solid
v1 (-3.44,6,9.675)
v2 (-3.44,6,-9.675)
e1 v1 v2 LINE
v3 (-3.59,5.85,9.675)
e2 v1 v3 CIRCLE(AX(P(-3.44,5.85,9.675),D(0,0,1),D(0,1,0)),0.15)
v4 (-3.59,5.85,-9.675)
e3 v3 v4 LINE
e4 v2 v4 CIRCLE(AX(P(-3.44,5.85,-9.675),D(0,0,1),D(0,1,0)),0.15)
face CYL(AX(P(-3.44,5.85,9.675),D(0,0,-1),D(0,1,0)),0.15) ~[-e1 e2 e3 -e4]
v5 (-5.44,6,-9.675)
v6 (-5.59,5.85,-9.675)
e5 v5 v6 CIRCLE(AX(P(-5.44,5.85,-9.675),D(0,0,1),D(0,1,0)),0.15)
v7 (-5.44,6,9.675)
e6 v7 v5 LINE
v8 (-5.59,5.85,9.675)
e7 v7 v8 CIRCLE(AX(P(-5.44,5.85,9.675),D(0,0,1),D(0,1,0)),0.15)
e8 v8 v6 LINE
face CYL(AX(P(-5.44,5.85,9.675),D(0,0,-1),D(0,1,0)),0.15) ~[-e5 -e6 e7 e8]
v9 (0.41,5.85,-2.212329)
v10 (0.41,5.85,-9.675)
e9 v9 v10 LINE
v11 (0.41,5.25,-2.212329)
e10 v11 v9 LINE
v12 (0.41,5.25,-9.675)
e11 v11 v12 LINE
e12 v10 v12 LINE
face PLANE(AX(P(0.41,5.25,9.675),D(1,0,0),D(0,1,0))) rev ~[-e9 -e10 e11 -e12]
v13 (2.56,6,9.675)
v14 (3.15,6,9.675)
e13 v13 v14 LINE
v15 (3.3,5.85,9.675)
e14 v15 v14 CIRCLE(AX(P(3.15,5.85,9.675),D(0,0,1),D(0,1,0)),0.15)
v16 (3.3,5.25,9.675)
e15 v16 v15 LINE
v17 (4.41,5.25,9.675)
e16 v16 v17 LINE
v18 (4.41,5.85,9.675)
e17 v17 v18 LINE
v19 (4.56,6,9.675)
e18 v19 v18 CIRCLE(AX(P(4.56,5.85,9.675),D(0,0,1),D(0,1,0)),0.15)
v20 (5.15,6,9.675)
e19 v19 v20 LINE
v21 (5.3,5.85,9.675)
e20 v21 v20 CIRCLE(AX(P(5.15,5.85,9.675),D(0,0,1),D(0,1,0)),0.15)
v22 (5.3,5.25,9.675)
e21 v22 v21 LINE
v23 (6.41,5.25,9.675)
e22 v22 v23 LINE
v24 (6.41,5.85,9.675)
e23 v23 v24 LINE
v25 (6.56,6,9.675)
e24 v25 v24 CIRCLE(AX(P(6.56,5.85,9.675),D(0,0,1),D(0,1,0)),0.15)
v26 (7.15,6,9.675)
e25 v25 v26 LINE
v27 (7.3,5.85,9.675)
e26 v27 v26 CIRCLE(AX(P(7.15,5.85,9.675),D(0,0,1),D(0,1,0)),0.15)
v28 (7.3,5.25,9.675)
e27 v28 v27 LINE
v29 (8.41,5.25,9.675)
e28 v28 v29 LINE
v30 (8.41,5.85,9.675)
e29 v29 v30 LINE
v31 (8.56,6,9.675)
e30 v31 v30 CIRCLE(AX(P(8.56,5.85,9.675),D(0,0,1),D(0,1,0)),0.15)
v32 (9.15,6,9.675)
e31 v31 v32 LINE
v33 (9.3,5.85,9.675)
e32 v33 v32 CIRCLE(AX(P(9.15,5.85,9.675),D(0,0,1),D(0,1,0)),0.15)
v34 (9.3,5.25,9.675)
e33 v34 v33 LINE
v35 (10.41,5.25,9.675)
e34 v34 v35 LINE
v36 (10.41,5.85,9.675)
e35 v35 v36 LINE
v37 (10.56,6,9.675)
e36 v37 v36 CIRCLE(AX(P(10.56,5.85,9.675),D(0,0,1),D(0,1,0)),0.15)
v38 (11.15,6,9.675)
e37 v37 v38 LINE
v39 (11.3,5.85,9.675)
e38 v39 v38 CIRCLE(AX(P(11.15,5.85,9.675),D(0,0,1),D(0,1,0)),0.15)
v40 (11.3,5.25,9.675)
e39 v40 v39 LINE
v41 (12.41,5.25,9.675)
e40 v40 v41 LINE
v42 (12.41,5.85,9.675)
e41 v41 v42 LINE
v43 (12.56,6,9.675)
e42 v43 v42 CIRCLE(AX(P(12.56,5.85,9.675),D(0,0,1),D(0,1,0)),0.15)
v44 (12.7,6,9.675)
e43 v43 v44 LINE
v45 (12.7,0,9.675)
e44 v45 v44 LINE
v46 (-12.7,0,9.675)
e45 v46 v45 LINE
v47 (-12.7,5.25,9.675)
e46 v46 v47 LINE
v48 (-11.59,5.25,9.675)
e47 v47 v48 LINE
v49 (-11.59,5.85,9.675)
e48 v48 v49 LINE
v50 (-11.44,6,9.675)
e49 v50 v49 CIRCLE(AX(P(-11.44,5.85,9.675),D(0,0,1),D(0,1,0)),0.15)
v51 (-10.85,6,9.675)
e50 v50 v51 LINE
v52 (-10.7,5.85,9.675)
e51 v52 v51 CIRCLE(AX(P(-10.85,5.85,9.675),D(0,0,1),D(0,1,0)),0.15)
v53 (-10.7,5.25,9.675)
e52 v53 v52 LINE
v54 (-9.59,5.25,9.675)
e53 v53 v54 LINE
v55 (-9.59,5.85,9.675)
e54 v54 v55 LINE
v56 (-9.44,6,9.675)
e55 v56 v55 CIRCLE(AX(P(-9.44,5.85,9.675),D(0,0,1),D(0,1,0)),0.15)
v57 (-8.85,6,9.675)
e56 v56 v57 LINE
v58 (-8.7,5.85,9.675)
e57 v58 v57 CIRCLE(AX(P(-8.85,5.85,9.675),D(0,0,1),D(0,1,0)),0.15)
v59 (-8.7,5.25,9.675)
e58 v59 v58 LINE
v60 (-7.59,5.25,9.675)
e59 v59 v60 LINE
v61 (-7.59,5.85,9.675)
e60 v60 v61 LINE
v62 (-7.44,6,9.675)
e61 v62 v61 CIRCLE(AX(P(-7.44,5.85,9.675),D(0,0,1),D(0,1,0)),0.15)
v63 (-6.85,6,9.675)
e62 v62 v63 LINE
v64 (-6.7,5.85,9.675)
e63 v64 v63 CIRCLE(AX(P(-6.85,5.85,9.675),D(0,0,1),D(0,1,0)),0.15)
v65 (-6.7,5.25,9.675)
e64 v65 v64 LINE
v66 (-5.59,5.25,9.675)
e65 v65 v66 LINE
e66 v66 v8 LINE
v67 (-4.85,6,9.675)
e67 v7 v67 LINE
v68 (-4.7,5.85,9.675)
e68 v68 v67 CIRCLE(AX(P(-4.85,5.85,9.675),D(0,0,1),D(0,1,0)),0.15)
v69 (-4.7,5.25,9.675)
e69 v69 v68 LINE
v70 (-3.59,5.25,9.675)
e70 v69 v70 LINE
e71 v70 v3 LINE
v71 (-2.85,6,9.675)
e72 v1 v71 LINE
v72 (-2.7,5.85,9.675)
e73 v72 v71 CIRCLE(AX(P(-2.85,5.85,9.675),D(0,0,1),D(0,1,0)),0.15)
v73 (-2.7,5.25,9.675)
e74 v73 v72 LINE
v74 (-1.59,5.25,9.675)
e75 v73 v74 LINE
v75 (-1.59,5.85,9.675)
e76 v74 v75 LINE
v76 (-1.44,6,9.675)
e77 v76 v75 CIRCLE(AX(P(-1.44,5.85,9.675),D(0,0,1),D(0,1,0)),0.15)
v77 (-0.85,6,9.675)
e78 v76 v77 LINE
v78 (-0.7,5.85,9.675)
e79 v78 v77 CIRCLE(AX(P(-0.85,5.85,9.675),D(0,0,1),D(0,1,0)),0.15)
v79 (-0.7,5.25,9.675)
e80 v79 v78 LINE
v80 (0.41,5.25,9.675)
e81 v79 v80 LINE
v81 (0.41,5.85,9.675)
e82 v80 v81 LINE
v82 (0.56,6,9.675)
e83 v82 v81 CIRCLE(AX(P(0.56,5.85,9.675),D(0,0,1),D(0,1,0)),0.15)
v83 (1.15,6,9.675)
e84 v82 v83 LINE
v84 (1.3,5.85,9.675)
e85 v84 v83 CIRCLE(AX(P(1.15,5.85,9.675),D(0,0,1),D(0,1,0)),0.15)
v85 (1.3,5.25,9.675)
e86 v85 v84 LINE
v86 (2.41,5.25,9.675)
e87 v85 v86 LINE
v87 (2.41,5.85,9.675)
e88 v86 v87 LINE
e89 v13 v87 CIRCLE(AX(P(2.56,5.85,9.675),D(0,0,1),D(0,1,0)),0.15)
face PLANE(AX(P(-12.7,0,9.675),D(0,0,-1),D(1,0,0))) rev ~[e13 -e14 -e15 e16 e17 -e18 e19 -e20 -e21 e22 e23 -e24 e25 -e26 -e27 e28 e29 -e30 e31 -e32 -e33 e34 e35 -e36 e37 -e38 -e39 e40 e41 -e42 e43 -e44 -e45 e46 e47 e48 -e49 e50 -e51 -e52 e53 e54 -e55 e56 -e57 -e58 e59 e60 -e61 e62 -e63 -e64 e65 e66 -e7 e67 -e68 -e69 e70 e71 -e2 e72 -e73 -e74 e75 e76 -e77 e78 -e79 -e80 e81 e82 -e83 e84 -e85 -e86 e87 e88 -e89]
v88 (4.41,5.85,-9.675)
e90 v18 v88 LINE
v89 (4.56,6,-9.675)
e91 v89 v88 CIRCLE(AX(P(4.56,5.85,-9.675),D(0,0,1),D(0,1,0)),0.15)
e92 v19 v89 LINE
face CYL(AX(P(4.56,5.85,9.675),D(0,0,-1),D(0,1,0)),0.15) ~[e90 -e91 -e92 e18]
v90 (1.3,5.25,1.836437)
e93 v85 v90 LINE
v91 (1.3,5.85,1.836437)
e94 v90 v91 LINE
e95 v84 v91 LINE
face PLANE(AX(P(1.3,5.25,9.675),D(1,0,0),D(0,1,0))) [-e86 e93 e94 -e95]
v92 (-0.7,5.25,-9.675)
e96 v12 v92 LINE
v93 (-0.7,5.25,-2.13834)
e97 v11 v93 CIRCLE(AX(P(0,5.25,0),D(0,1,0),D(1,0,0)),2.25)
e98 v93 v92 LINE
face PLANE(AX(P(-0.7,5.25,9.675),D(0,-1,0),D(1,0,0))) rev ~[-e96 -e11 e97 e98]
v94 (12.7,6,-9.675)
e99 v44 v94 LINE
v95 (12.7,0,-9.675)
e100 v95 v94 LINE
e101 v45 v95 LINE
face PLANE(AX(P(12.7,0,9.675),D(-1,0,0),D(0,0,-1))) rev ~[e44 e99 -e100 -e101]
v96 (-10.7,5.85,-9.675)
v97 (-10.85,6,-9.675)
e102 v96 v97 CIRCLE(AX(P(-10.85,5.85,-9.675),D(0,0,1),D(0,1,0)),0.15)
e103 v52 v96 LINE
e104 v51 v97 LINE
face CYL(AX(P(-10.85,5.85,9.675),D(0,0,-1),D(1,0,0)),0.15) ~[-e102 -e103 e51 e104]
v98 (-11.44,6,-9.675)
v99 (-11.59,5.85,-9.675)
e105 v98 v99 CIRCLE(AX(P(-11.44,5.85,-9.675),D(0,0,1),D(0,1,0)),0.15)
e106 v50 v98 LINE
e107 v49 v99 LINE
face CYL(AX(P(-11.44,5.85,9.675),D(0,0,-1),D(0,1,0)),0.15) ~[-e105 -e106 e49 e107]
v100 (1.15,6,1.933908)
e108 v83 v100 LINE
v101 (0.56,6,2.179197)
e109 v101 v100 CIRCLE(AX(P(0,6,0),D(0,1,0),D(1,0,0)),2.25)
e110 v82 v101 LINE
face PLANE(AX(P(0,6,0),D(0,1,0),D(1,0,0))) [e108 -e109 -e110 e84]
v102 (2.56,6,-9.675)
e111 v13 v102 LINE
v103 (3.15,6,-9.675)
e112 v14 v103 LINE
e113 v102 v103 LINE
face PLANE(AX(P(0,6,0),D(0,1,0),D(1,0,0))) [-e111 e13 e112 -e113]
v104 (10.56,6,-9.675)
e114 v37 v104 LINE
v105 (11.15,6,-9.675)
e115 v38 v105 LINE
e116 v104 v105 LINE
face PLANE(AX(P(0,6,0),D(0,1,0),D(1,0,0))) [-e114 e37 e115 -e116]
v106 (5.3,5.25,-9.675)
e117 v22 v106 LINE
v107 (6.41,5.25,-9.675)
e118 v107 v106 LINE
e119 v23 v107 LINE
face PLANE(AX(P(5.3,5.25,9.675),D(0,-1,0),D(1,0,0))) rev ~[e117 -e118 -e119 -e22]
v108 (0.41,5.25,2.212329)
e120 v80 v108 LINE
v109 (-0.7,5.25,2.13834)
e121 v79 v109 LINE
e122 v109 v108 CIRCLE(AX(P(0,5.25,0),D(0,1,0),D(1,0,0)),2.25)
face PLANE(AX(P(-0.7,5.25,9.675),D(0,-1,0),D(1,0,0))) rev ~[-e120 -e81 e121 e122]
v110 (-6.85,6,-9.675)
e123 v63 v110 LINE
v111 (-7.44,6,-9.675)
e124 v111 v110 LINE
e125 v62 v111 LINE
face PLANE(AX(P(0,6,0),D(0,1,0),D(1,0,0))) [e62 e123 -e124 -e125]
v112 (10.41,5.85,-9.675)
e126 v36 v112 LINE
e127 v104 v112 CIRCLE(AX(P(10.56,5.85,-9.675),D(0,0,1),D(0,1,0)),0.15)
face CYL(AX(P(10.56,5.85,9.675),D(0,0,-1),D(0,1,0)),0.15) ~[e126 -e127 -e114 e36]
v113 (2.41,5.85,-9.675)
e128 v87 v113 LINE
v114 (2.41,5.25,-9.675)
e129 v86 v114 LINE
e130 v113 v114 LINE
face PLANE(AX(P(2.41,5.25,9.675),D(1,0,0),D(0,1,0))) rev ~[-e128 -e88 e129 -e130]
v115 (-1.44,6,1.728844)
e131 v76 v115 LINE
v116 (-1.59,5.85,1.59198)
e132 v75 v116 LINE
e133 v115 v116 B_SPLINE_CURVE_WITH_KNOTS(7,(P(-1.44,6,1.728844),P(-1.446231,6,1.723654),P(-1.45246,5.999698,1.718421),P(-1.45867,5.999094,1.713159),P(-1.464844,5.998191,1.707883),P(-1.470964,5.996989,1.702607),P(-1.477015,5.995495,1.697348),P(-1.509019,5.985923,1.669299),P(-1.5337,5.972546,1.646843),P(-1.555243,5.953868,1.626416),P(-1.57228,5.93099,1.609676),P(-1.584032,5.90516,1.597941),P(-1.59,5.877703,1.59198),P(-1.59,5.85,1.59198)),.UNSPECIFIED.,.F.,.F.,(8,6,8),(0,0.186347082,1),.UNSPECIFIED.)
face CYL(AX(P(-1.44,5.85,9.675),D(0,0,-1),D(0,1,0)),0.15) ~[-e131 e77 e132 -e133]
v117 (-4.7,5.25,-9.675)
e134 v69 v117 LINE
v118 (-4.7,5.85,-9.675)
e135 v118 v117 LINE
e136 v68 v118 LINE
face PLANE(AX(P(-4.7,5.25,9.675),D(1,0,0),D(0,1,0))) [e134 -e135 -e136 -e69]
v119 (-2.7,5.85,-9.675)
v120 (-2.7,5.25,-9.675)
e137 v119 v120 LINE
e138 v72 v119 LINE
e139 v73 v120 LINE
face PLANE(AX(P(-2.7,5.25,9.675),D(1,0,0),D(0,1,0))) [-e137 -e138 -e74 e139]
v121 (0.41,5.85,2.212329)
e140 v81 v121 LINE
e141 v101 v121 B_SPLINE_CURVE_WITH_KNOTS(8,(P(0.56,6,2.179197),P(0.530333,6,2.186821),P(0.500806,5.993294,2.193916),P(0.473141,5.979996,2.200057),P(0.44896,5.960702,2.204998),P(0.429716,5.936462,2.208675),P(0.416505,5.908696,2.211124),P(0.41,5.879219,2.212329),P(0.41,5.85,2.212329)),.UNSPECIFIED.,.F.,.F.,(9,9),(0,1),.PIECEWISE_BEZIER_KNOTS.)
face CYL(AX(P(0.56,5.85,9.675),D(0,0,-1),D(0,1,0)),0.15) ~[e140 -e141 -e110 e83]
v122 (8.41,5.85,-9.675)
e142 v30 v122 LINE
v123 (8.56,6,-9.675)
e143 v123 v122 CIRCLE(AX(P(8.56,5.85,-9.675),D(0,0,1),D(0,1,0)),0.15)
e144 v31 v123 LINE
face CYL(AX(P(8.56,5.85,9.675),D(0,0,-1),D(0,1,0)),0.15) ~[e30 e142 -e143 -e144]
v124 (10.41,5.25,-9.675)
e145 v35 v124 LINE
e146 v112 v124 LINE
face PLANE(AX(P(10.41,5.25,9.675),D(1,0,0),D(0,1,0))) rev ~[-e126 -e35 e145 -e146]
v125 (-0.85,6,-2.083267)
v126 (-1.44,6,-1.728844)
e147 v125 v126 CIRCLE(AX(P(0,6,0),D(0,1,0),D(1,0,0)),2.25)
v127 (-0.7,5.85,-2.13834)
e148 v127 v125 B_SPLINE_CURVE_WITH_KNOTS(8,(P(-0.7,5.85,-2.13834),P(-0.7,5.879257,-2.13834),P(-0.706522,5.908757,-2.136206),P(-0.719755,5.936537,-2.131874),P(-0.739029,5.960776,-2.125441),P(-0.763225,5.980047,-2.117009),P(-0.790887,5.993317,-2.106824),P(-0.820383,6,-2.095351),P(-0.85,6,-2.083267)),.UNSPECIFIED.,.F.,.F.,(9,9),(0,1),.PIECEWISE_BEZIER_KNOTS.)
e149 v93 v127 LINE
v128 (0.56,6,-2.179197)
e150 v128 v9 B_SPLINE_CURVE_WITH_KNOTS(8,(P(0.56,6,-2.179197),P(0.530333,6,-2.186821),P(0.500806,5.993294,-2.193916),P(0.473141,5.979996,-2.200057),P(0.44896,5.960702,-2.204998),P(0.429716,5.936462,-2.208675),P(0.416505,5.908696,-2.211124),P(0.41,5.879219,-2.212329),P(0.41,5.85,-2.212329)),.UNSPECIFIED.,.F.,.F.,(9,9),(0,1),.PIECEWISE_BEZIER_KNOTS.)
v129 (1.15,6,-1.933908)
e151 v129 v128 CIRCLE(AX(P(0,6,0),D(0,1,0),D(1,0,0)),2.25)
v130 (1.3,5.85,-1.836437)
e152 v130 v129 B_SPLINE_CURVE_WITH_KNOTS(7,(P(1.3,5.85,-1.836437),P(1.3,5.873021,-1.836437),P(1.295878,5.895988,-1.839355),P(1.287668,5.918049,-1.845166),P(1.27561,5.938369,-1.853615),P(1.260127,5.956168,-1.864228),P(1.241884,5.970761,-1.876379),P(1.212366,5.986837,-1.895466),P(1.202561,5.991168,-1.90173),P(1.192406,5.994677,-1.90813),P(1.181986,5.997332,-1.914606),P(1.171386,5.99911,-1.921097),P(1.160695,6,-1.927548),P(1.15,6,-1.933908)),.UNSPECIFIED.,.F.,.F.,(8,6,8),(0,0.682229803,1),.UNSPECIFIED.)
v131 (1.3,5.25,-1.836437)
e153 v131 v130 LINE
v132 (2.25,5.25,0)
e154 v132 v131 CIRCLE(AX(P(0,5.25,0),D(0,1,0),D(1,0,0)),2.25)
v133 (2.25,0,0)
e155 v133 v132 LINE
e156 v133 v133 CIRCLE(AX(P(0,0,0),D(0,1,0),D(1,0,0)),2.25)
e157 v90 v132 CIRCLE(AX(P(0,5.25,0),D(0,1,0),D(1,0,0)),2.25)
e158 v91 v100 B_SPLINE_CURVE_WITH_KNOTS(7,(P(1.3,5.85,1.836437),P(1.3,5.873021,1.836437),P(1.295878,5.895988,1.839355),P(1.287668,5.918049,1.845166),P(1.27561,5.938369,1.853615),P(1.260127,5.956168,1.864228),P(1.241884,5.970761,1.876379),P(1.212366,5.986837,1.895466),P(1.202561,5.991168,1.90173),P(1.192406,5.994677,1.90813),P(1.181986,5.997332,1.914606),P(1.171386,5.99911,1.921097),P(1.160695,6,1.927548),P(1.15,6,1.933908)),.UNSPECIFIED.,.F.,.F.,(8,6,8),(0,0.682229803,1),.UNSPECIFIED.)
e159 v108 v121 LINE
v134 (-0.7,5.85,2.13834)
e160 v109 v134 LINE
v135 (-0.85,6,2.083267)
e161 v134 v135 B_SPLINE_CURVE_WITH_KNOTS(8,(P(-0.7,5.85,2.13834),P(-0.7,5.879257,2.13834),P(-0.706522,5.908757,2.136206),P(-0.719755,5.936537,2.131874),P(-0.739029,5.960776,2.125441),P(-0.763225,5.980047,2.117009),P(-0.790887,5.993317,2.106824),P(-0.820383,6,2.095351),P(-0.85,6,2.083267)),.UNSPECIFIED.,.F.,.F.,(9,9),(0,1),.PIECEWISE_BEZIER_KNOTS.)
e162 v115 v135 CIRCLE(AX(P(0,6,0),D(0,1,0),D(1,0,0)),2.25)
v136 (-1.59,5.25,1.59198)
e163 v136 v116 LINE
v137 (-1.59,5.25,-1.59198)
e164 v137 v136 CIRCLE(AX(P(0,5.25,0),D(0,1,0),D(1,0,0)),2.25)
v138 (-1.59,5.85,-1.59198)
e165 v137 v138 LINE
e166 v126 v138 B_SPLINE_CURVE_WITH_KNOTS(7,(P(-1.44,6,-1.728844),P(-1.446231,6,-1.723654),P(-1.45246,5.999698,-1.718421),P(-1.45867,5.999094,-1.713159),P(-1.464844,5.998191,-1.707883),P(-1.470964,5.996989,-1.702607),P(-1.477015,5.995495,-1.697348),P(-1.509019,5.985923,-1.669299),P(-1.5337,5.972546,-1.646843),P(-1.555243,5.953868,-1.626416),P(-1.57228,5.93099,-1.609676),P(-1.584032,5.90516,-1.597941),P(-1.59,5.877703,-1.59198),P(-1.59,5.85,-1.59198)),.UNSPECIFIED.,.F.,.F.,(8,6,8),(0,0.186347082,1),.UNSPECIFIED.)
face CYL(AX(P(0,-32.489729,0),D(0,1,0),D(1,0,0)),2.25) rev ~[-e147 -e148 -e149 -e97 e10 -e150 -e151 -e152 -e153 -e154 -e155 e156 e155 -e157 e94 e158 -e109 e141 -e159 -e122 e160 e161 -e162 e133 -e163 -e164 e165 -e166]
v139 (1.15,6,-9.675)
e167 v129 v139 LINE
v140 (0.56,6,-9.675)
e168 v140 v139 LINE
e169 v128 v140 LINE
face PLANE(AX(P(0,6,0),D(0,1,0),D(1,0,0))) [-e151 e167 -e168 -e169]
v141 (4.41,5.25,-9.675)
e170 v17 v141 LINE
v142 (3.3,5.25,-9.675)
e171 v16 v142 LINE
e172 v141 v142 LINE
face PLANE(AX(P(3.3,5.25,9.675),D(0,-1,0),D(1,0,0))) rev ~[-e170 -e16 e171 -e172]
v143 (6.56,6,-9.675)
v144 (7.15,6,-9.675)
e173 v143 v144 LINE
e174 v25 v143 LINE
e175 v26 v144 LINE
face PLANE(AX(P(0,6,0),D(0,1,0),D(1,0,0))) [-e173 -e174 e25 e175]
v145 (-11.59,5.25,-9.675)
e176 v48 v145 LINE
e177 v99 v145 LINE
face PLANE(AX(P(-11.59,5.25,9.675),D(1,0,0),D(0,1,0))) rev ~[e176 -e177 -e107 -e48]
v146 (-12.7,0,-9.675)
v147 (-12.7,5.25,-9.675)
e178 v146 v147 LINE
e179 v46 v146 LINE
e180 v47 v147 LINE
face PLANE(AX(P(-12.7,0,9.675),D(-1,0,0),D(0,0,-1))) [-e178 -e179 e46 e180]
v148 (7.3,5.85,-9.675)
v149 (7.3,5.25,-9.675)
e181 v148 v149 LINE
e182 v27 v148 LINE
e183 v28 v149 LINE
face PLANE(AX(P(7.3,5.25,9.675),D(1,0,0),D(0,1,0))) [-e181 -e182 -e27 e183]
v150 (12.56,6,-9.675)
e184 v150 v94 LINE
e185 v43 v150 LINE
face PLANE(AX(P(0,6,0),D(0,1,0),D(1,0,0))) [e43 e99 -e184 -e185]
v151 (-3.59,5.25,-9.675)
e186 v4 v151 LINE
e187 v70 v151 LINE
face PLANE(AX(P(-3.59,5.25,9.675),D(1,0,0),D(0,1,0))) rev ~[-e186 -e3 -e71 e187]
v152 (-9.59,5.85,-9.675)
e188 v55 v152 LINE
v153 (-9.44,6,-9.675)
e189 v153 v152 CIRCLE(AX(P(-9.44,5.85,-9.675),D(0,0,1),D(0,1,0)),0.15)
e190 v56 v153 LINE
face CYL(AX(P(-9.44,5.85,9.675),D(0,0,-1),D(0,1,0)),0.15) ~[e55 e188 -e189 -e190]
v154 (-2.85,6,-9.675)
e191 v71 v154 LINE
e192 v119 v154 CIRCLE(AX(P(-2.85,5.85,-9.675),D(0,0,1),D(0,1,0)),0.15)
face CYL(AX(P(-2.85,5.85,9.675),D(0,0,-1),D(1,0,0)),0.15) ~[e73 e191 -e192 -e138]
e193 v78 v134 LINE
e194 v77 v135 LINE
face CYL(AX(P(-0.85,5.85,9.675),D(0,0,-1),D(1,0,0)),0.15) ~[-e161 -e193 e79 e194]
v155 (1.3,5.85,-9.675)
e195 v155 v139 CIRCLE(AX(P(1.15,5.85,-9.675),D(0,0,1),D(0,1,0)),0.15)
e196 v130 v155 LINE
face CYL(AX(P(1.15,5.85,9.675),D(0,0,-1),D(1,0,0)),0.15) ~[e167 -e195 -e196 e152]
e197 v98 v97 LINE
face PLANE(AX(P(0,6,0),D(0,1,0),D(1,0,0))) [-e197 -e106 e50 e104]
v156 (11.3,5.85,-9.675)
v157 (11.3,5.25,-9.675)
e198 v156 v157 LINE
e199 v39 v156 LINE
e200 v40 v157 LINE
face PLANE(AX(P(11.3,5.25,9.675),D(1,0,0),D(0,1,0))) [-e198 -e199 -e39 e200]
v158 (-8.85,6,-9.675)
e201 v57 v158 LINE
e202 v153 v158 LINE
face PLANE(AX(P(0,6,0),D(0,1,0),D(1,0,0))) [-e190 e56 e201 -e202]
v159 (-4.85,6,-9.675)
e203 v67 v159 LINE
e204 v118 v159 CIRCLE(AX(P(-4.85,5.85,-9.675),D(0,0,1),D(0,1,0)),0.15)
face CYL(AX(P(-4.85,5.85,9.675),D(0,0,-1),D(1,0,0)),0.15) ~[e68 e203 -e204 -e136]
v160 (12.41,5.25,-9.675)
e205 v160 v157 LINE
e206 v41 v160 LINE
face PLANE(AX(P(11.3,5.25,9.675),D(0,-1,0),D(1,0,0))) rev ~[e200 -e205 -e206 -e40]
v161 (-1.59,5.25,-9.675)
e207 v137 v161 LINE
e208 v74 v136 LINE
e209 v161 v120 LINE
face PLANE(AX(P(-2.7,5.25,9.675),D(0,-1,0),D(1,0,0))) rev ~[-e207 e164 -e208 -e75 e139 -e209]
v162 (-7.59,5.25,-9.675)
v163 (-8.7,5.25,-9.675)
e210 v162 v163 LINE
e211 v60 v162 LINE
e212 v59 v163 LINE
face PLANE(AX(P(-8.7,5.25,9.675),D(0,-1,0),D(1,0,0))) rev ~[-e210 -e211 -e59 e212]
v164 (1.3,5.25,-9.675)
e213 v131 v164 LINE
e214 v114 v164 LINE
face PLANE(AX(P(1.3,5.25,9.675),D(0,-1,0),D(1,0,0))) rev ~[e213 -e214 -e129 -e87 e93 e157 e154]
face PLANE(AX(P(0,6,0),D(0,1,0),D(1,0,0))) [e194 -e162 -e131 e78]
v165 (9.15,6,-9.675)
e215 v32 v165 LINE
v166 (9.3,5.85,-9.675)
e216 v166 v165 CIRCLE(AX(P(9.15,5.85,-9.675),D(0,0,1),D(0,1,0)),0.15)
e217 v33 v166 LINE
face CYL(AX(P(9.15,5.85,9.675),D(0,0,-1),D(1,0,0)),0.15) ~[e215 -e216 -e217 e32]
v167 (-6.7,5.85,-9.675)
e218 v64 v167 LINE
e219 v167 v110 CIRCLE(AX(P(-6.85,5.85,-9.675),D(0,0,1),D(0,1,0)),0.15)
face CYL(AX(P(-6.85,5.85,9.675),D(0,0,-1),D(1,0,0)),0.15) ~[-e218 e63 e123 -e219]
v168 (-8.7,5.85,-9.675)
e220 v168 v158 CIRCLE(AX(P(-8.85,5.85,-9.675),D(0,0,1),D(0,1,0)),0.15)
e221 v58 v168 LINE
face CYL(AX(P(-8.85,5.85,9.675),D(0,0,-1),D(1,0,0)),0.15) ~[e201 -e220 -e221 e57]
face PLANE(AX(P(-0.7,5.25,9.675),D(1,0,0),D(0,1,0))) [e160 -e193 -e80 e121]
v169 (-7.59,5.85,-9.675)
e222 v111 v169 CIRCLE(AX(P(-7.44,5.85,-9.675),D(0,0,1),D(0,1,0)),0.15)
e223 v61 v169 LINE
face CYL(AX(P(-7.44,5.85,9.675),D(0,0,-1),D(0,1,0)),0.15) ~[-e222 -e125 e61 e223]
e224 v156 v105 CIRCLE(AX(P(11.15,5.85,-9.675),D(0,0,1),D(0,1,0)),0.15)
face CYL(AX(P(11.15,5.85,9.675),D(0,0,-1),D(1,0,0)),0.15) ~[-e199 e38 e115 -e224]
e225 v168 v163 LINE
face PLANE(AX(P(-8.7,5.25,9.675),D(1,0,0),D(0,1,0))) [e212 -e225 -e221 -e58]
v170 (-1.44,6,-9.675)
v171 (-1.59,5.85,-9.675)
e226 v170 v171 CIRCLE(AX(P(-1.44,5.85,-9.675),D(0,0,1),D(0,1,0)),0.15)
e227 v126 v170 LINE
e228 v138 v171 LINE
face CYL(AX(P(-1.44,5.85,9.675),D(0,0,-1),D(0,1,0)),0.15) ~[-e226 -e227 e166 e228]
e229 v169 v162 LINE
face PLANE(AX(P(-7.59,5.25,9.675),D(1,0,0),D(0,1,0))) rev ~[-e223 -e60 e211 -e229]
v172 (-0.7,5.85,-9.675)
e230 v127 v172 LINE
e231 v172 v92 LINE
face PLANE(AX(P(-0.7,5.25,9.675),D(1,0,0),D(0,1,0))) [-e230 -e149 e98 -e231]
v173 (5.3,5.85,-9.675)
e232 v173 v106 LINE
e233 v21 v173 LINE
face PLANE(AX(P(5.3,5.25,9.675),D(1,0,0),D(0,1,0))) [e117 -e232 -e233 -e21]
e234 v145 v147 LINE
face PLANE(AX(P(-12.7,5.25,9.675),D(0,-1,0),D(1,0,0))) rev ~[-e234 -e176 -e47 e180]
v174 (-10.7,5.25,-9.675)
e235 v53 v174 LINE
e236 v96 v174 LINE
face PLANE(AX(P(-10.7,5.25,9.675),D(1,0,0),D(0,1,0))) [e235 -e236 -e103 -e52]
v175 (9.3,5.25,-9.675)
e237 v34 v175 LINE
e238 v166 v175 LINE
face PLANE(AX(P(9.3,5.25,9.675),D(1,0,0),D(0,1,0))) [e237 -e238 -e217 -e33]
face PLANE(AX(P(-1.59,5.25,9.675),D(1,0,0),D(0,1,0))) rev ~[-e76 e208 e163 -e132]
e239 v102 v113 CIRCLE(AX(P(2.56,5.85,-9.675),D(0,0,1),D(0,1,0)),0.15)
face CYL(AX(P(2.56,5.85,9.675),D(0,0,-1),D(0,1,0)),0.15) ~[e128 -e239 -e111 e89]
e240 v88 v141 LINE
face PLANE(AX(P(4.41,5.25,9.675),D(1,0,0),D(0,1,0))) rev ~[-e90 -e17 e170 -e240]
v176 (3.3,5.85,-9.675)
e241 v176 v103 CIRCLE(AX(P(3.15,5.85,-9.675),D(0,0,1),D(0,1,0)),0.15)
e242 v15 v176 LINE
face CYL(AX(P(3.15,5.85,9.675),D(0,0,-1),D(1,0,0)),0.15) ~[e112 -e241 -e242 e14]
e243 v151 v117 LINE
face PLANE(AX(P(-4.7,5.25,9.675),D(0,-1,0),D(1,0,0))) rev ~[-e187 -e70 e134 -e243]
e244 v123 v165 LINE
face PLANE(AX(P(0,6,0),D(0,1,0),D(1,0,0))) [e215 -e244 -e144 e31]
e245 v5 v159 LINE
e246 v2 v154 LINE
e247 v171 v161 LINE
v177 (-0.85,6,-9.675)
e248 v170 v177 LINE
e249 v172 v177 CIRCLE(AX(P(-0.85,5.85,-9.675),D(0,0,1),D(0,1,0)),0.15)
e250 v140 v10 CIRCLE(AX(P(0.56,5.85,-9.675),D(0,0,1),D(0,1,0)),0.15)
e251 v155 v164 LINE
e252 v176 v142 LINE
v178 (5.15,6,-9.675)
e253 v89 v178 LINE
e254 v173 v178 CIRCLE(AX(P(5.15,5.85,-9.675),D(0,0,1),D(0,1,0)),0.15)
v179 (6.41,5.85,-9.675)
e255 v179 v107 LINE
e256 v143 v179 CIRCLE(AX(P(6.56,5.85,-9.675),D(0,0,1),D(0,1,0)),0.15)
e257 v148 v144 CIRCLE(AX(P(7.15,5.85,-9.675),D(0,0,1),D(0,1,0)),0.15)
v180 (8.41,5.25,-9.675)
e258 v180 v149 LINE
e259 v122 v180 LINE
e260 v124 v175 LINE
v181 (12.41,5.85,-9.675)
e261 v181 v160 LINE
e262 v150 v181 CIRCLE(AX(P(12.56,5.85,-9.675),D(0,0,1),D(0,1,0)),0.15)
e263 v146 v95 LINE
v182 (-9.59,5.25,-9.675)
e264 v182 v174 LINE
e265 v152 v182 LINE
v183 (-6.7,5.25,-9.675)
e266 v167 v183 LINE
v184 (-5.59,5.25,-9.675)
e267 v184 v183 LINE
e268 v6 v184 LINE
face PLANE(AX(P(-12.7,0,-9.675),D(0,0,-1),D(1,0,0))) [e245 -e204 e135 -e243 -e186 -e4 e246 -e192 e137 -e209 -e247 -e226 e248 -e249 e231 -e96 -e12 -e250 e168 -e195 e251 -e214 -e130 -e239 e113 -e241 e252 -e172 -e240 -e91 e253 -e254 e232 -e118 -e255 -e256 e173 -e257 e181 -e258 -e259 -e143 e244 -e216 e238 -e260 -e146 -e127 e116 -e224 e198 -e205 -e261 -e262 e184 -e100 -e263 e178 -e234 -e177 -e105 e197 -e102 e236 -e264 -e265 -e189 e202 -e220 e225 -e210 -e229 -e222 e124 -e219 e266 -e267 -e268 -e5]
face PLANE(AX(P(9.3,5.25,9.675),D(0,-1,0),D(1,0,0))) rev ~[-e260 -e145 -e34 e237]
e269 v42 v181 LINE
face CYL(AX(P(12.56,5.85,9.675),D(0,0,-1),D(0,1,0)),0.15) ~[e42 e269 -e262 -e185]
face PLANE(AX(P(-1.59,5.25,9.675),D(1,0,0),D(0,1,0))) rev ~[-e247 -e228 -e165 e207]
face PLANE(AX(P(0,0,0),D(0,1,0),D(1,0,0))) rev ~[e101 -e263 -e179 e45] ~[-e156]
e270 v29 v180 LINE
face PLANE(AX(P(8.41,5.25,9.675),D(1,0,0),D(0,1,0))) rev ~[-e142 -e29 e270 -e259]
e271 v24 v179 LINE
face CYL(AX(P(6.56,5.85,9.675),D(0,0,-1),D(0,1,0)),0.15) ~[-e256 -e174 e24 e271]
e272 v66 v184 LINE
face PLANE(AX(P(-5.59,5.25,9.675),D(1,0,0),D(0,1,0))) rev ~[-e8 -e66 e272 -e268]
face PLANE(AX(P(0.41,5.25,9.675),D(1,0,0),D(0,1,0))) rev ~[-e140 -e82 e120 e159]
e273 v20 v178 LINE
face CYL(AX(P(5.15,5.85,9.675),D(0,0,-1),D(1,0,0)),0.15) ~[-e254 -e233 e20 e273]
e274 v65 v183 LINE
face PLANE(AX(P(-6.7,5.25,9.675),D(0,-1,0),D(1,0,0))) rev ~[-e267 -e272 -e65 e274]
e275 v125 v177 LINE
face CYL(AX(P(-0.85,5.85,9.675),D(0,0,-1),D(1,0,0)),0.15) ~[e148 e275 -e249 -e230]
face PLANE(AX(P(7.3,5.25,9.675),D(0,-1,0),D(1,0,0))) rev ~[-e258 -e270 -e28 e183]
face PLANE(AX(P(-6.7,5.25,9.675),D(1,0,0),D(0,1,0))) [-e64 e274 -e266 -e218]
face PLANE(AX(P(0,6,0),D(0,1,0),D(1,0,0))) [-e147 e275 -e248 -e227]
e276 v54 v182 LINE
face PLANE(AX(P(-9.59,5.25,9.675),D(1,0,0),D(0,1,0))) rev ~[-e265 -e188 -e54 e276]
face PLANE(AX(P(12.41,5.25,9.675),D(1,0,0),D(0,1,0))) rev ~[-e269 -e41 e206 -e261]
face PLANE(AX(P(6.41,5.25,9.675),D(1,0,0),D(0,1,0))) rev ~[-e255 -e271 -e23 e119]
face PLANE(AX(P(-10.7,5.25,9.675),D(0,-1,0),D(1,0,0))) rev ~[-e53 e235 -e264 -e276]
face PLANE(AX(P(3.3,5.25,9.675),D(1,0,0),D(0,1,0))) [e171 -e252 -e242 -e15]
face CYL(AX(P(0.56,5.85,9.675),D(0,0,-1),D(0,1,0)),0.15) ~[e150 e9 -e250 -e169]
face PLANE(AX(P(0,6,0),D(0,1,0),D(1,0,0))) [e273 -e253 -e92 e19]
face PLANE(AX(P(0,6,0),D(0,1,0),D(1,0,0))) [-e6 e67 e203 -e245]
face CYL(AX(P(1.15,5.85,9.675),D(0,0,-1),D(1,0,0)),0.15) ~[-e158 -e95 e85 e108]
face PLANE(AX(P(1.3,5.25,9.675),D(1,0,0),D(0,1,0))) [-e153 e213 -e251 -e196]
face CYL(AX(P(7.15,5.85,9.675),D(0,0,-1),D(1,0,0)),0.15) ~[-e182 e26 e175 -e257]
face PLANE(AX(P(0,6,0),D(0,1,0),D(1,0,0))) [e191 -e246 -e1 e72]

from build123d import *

# Parameters (mm, degrees)
SKETCH1_W            = 25.4
SKETCH1_H            = 19.35
BOSS_EXTRUDE1_DEPTH  = 6
SKETCH2_W            = 1.11
SKETCH2_H            = 0.75
CUT_EXTRUDE3_DEPTH   = 24.910510241
LPATTERN2_COUNT      = 13
LPATTERN2_PITCH      = 2
FILLET1_R            = 0.15
M4_CLEARANCE_HOLE1_D = 4.5


with BuildPart() as part:
    # Sketch1 → Boss-Extrude1 (new body)
    with BuildSketch(Plane(origin=(0, 0, 0), x_dir=(1, 0, 0), z_dir=(0, 1, 0))):
        Rectangle(SKETCH1_W, SKETCH1_H)
    extrude(amount=BOSS_EXTRUDE1_DEPTH)

    # Sketch2 → Cut-Extrude3 (cut, through all)
    with BuildSketch(Plane.XY.offset(9.675)):
        with Locations((-12.145, 5.625)):
            Rectangle(SKETCH2_W, SKETCH2_H)
    cut_extrude3 = extrude(amount=-CUT_EXTRUDE3_DEPTH, mode=Mode.SUBTRACT)

    # LPattern2: Cut-Extrude3 ×13
    with Locations(*[(i * LPATTERN2_PITCH, 0, 0) for i in range(1, LPATTERN2_COUNT)]):
        add(cut_extrude3, mode=Mode.SUBTRACT)

    # Fillet1
    fillet1_edges = [part.edges().sort_by_distance(p)[0] for p in [
        (-6.7, 6, 0),
        (-5.59, 6, 0),
        (-4.7, 6, 0),
        (-3.59, 6, 0),
        (-2.7, 6, 0),
        (-1.59, 6, 0),
        (-0.7, 6, 0),
        (0.41, 6, 0),
        (1.3, 6, 0),
        (2.41, 6, 0),
        (3.3, 6, 0),
        (4.41, 6, 0),
        (5.3, 6, 0),
        (6.41, 6, 0),
        (7.3, 6, 0),
        (8.41, 6, 0),
        (9.3, 6, 0),
        (10.41, 6, 0),
        (11.3, 6, 0),
        (12.41, 6, 0),
        (-11.59, 6, 0),
        (-10.7, 6, 0),
        (-9.59, 6, 0),
        (-8.7, 6, 0),
        (-7.59, 6, 0),
    ]]
    fillet(fillet1_edges, radius=FILLET1_R)

    # M4 Clearance Hole1 (through all)
    with Locations(Plane(origin=(0, 0, 0), x_dir=(-1, 0, 0), z_dir=(0, -1, 0))):
        with Locations((0, 0)):
            Hole(M4_CLEARANCE_HOLE1_D / 2)


solid = part.part
